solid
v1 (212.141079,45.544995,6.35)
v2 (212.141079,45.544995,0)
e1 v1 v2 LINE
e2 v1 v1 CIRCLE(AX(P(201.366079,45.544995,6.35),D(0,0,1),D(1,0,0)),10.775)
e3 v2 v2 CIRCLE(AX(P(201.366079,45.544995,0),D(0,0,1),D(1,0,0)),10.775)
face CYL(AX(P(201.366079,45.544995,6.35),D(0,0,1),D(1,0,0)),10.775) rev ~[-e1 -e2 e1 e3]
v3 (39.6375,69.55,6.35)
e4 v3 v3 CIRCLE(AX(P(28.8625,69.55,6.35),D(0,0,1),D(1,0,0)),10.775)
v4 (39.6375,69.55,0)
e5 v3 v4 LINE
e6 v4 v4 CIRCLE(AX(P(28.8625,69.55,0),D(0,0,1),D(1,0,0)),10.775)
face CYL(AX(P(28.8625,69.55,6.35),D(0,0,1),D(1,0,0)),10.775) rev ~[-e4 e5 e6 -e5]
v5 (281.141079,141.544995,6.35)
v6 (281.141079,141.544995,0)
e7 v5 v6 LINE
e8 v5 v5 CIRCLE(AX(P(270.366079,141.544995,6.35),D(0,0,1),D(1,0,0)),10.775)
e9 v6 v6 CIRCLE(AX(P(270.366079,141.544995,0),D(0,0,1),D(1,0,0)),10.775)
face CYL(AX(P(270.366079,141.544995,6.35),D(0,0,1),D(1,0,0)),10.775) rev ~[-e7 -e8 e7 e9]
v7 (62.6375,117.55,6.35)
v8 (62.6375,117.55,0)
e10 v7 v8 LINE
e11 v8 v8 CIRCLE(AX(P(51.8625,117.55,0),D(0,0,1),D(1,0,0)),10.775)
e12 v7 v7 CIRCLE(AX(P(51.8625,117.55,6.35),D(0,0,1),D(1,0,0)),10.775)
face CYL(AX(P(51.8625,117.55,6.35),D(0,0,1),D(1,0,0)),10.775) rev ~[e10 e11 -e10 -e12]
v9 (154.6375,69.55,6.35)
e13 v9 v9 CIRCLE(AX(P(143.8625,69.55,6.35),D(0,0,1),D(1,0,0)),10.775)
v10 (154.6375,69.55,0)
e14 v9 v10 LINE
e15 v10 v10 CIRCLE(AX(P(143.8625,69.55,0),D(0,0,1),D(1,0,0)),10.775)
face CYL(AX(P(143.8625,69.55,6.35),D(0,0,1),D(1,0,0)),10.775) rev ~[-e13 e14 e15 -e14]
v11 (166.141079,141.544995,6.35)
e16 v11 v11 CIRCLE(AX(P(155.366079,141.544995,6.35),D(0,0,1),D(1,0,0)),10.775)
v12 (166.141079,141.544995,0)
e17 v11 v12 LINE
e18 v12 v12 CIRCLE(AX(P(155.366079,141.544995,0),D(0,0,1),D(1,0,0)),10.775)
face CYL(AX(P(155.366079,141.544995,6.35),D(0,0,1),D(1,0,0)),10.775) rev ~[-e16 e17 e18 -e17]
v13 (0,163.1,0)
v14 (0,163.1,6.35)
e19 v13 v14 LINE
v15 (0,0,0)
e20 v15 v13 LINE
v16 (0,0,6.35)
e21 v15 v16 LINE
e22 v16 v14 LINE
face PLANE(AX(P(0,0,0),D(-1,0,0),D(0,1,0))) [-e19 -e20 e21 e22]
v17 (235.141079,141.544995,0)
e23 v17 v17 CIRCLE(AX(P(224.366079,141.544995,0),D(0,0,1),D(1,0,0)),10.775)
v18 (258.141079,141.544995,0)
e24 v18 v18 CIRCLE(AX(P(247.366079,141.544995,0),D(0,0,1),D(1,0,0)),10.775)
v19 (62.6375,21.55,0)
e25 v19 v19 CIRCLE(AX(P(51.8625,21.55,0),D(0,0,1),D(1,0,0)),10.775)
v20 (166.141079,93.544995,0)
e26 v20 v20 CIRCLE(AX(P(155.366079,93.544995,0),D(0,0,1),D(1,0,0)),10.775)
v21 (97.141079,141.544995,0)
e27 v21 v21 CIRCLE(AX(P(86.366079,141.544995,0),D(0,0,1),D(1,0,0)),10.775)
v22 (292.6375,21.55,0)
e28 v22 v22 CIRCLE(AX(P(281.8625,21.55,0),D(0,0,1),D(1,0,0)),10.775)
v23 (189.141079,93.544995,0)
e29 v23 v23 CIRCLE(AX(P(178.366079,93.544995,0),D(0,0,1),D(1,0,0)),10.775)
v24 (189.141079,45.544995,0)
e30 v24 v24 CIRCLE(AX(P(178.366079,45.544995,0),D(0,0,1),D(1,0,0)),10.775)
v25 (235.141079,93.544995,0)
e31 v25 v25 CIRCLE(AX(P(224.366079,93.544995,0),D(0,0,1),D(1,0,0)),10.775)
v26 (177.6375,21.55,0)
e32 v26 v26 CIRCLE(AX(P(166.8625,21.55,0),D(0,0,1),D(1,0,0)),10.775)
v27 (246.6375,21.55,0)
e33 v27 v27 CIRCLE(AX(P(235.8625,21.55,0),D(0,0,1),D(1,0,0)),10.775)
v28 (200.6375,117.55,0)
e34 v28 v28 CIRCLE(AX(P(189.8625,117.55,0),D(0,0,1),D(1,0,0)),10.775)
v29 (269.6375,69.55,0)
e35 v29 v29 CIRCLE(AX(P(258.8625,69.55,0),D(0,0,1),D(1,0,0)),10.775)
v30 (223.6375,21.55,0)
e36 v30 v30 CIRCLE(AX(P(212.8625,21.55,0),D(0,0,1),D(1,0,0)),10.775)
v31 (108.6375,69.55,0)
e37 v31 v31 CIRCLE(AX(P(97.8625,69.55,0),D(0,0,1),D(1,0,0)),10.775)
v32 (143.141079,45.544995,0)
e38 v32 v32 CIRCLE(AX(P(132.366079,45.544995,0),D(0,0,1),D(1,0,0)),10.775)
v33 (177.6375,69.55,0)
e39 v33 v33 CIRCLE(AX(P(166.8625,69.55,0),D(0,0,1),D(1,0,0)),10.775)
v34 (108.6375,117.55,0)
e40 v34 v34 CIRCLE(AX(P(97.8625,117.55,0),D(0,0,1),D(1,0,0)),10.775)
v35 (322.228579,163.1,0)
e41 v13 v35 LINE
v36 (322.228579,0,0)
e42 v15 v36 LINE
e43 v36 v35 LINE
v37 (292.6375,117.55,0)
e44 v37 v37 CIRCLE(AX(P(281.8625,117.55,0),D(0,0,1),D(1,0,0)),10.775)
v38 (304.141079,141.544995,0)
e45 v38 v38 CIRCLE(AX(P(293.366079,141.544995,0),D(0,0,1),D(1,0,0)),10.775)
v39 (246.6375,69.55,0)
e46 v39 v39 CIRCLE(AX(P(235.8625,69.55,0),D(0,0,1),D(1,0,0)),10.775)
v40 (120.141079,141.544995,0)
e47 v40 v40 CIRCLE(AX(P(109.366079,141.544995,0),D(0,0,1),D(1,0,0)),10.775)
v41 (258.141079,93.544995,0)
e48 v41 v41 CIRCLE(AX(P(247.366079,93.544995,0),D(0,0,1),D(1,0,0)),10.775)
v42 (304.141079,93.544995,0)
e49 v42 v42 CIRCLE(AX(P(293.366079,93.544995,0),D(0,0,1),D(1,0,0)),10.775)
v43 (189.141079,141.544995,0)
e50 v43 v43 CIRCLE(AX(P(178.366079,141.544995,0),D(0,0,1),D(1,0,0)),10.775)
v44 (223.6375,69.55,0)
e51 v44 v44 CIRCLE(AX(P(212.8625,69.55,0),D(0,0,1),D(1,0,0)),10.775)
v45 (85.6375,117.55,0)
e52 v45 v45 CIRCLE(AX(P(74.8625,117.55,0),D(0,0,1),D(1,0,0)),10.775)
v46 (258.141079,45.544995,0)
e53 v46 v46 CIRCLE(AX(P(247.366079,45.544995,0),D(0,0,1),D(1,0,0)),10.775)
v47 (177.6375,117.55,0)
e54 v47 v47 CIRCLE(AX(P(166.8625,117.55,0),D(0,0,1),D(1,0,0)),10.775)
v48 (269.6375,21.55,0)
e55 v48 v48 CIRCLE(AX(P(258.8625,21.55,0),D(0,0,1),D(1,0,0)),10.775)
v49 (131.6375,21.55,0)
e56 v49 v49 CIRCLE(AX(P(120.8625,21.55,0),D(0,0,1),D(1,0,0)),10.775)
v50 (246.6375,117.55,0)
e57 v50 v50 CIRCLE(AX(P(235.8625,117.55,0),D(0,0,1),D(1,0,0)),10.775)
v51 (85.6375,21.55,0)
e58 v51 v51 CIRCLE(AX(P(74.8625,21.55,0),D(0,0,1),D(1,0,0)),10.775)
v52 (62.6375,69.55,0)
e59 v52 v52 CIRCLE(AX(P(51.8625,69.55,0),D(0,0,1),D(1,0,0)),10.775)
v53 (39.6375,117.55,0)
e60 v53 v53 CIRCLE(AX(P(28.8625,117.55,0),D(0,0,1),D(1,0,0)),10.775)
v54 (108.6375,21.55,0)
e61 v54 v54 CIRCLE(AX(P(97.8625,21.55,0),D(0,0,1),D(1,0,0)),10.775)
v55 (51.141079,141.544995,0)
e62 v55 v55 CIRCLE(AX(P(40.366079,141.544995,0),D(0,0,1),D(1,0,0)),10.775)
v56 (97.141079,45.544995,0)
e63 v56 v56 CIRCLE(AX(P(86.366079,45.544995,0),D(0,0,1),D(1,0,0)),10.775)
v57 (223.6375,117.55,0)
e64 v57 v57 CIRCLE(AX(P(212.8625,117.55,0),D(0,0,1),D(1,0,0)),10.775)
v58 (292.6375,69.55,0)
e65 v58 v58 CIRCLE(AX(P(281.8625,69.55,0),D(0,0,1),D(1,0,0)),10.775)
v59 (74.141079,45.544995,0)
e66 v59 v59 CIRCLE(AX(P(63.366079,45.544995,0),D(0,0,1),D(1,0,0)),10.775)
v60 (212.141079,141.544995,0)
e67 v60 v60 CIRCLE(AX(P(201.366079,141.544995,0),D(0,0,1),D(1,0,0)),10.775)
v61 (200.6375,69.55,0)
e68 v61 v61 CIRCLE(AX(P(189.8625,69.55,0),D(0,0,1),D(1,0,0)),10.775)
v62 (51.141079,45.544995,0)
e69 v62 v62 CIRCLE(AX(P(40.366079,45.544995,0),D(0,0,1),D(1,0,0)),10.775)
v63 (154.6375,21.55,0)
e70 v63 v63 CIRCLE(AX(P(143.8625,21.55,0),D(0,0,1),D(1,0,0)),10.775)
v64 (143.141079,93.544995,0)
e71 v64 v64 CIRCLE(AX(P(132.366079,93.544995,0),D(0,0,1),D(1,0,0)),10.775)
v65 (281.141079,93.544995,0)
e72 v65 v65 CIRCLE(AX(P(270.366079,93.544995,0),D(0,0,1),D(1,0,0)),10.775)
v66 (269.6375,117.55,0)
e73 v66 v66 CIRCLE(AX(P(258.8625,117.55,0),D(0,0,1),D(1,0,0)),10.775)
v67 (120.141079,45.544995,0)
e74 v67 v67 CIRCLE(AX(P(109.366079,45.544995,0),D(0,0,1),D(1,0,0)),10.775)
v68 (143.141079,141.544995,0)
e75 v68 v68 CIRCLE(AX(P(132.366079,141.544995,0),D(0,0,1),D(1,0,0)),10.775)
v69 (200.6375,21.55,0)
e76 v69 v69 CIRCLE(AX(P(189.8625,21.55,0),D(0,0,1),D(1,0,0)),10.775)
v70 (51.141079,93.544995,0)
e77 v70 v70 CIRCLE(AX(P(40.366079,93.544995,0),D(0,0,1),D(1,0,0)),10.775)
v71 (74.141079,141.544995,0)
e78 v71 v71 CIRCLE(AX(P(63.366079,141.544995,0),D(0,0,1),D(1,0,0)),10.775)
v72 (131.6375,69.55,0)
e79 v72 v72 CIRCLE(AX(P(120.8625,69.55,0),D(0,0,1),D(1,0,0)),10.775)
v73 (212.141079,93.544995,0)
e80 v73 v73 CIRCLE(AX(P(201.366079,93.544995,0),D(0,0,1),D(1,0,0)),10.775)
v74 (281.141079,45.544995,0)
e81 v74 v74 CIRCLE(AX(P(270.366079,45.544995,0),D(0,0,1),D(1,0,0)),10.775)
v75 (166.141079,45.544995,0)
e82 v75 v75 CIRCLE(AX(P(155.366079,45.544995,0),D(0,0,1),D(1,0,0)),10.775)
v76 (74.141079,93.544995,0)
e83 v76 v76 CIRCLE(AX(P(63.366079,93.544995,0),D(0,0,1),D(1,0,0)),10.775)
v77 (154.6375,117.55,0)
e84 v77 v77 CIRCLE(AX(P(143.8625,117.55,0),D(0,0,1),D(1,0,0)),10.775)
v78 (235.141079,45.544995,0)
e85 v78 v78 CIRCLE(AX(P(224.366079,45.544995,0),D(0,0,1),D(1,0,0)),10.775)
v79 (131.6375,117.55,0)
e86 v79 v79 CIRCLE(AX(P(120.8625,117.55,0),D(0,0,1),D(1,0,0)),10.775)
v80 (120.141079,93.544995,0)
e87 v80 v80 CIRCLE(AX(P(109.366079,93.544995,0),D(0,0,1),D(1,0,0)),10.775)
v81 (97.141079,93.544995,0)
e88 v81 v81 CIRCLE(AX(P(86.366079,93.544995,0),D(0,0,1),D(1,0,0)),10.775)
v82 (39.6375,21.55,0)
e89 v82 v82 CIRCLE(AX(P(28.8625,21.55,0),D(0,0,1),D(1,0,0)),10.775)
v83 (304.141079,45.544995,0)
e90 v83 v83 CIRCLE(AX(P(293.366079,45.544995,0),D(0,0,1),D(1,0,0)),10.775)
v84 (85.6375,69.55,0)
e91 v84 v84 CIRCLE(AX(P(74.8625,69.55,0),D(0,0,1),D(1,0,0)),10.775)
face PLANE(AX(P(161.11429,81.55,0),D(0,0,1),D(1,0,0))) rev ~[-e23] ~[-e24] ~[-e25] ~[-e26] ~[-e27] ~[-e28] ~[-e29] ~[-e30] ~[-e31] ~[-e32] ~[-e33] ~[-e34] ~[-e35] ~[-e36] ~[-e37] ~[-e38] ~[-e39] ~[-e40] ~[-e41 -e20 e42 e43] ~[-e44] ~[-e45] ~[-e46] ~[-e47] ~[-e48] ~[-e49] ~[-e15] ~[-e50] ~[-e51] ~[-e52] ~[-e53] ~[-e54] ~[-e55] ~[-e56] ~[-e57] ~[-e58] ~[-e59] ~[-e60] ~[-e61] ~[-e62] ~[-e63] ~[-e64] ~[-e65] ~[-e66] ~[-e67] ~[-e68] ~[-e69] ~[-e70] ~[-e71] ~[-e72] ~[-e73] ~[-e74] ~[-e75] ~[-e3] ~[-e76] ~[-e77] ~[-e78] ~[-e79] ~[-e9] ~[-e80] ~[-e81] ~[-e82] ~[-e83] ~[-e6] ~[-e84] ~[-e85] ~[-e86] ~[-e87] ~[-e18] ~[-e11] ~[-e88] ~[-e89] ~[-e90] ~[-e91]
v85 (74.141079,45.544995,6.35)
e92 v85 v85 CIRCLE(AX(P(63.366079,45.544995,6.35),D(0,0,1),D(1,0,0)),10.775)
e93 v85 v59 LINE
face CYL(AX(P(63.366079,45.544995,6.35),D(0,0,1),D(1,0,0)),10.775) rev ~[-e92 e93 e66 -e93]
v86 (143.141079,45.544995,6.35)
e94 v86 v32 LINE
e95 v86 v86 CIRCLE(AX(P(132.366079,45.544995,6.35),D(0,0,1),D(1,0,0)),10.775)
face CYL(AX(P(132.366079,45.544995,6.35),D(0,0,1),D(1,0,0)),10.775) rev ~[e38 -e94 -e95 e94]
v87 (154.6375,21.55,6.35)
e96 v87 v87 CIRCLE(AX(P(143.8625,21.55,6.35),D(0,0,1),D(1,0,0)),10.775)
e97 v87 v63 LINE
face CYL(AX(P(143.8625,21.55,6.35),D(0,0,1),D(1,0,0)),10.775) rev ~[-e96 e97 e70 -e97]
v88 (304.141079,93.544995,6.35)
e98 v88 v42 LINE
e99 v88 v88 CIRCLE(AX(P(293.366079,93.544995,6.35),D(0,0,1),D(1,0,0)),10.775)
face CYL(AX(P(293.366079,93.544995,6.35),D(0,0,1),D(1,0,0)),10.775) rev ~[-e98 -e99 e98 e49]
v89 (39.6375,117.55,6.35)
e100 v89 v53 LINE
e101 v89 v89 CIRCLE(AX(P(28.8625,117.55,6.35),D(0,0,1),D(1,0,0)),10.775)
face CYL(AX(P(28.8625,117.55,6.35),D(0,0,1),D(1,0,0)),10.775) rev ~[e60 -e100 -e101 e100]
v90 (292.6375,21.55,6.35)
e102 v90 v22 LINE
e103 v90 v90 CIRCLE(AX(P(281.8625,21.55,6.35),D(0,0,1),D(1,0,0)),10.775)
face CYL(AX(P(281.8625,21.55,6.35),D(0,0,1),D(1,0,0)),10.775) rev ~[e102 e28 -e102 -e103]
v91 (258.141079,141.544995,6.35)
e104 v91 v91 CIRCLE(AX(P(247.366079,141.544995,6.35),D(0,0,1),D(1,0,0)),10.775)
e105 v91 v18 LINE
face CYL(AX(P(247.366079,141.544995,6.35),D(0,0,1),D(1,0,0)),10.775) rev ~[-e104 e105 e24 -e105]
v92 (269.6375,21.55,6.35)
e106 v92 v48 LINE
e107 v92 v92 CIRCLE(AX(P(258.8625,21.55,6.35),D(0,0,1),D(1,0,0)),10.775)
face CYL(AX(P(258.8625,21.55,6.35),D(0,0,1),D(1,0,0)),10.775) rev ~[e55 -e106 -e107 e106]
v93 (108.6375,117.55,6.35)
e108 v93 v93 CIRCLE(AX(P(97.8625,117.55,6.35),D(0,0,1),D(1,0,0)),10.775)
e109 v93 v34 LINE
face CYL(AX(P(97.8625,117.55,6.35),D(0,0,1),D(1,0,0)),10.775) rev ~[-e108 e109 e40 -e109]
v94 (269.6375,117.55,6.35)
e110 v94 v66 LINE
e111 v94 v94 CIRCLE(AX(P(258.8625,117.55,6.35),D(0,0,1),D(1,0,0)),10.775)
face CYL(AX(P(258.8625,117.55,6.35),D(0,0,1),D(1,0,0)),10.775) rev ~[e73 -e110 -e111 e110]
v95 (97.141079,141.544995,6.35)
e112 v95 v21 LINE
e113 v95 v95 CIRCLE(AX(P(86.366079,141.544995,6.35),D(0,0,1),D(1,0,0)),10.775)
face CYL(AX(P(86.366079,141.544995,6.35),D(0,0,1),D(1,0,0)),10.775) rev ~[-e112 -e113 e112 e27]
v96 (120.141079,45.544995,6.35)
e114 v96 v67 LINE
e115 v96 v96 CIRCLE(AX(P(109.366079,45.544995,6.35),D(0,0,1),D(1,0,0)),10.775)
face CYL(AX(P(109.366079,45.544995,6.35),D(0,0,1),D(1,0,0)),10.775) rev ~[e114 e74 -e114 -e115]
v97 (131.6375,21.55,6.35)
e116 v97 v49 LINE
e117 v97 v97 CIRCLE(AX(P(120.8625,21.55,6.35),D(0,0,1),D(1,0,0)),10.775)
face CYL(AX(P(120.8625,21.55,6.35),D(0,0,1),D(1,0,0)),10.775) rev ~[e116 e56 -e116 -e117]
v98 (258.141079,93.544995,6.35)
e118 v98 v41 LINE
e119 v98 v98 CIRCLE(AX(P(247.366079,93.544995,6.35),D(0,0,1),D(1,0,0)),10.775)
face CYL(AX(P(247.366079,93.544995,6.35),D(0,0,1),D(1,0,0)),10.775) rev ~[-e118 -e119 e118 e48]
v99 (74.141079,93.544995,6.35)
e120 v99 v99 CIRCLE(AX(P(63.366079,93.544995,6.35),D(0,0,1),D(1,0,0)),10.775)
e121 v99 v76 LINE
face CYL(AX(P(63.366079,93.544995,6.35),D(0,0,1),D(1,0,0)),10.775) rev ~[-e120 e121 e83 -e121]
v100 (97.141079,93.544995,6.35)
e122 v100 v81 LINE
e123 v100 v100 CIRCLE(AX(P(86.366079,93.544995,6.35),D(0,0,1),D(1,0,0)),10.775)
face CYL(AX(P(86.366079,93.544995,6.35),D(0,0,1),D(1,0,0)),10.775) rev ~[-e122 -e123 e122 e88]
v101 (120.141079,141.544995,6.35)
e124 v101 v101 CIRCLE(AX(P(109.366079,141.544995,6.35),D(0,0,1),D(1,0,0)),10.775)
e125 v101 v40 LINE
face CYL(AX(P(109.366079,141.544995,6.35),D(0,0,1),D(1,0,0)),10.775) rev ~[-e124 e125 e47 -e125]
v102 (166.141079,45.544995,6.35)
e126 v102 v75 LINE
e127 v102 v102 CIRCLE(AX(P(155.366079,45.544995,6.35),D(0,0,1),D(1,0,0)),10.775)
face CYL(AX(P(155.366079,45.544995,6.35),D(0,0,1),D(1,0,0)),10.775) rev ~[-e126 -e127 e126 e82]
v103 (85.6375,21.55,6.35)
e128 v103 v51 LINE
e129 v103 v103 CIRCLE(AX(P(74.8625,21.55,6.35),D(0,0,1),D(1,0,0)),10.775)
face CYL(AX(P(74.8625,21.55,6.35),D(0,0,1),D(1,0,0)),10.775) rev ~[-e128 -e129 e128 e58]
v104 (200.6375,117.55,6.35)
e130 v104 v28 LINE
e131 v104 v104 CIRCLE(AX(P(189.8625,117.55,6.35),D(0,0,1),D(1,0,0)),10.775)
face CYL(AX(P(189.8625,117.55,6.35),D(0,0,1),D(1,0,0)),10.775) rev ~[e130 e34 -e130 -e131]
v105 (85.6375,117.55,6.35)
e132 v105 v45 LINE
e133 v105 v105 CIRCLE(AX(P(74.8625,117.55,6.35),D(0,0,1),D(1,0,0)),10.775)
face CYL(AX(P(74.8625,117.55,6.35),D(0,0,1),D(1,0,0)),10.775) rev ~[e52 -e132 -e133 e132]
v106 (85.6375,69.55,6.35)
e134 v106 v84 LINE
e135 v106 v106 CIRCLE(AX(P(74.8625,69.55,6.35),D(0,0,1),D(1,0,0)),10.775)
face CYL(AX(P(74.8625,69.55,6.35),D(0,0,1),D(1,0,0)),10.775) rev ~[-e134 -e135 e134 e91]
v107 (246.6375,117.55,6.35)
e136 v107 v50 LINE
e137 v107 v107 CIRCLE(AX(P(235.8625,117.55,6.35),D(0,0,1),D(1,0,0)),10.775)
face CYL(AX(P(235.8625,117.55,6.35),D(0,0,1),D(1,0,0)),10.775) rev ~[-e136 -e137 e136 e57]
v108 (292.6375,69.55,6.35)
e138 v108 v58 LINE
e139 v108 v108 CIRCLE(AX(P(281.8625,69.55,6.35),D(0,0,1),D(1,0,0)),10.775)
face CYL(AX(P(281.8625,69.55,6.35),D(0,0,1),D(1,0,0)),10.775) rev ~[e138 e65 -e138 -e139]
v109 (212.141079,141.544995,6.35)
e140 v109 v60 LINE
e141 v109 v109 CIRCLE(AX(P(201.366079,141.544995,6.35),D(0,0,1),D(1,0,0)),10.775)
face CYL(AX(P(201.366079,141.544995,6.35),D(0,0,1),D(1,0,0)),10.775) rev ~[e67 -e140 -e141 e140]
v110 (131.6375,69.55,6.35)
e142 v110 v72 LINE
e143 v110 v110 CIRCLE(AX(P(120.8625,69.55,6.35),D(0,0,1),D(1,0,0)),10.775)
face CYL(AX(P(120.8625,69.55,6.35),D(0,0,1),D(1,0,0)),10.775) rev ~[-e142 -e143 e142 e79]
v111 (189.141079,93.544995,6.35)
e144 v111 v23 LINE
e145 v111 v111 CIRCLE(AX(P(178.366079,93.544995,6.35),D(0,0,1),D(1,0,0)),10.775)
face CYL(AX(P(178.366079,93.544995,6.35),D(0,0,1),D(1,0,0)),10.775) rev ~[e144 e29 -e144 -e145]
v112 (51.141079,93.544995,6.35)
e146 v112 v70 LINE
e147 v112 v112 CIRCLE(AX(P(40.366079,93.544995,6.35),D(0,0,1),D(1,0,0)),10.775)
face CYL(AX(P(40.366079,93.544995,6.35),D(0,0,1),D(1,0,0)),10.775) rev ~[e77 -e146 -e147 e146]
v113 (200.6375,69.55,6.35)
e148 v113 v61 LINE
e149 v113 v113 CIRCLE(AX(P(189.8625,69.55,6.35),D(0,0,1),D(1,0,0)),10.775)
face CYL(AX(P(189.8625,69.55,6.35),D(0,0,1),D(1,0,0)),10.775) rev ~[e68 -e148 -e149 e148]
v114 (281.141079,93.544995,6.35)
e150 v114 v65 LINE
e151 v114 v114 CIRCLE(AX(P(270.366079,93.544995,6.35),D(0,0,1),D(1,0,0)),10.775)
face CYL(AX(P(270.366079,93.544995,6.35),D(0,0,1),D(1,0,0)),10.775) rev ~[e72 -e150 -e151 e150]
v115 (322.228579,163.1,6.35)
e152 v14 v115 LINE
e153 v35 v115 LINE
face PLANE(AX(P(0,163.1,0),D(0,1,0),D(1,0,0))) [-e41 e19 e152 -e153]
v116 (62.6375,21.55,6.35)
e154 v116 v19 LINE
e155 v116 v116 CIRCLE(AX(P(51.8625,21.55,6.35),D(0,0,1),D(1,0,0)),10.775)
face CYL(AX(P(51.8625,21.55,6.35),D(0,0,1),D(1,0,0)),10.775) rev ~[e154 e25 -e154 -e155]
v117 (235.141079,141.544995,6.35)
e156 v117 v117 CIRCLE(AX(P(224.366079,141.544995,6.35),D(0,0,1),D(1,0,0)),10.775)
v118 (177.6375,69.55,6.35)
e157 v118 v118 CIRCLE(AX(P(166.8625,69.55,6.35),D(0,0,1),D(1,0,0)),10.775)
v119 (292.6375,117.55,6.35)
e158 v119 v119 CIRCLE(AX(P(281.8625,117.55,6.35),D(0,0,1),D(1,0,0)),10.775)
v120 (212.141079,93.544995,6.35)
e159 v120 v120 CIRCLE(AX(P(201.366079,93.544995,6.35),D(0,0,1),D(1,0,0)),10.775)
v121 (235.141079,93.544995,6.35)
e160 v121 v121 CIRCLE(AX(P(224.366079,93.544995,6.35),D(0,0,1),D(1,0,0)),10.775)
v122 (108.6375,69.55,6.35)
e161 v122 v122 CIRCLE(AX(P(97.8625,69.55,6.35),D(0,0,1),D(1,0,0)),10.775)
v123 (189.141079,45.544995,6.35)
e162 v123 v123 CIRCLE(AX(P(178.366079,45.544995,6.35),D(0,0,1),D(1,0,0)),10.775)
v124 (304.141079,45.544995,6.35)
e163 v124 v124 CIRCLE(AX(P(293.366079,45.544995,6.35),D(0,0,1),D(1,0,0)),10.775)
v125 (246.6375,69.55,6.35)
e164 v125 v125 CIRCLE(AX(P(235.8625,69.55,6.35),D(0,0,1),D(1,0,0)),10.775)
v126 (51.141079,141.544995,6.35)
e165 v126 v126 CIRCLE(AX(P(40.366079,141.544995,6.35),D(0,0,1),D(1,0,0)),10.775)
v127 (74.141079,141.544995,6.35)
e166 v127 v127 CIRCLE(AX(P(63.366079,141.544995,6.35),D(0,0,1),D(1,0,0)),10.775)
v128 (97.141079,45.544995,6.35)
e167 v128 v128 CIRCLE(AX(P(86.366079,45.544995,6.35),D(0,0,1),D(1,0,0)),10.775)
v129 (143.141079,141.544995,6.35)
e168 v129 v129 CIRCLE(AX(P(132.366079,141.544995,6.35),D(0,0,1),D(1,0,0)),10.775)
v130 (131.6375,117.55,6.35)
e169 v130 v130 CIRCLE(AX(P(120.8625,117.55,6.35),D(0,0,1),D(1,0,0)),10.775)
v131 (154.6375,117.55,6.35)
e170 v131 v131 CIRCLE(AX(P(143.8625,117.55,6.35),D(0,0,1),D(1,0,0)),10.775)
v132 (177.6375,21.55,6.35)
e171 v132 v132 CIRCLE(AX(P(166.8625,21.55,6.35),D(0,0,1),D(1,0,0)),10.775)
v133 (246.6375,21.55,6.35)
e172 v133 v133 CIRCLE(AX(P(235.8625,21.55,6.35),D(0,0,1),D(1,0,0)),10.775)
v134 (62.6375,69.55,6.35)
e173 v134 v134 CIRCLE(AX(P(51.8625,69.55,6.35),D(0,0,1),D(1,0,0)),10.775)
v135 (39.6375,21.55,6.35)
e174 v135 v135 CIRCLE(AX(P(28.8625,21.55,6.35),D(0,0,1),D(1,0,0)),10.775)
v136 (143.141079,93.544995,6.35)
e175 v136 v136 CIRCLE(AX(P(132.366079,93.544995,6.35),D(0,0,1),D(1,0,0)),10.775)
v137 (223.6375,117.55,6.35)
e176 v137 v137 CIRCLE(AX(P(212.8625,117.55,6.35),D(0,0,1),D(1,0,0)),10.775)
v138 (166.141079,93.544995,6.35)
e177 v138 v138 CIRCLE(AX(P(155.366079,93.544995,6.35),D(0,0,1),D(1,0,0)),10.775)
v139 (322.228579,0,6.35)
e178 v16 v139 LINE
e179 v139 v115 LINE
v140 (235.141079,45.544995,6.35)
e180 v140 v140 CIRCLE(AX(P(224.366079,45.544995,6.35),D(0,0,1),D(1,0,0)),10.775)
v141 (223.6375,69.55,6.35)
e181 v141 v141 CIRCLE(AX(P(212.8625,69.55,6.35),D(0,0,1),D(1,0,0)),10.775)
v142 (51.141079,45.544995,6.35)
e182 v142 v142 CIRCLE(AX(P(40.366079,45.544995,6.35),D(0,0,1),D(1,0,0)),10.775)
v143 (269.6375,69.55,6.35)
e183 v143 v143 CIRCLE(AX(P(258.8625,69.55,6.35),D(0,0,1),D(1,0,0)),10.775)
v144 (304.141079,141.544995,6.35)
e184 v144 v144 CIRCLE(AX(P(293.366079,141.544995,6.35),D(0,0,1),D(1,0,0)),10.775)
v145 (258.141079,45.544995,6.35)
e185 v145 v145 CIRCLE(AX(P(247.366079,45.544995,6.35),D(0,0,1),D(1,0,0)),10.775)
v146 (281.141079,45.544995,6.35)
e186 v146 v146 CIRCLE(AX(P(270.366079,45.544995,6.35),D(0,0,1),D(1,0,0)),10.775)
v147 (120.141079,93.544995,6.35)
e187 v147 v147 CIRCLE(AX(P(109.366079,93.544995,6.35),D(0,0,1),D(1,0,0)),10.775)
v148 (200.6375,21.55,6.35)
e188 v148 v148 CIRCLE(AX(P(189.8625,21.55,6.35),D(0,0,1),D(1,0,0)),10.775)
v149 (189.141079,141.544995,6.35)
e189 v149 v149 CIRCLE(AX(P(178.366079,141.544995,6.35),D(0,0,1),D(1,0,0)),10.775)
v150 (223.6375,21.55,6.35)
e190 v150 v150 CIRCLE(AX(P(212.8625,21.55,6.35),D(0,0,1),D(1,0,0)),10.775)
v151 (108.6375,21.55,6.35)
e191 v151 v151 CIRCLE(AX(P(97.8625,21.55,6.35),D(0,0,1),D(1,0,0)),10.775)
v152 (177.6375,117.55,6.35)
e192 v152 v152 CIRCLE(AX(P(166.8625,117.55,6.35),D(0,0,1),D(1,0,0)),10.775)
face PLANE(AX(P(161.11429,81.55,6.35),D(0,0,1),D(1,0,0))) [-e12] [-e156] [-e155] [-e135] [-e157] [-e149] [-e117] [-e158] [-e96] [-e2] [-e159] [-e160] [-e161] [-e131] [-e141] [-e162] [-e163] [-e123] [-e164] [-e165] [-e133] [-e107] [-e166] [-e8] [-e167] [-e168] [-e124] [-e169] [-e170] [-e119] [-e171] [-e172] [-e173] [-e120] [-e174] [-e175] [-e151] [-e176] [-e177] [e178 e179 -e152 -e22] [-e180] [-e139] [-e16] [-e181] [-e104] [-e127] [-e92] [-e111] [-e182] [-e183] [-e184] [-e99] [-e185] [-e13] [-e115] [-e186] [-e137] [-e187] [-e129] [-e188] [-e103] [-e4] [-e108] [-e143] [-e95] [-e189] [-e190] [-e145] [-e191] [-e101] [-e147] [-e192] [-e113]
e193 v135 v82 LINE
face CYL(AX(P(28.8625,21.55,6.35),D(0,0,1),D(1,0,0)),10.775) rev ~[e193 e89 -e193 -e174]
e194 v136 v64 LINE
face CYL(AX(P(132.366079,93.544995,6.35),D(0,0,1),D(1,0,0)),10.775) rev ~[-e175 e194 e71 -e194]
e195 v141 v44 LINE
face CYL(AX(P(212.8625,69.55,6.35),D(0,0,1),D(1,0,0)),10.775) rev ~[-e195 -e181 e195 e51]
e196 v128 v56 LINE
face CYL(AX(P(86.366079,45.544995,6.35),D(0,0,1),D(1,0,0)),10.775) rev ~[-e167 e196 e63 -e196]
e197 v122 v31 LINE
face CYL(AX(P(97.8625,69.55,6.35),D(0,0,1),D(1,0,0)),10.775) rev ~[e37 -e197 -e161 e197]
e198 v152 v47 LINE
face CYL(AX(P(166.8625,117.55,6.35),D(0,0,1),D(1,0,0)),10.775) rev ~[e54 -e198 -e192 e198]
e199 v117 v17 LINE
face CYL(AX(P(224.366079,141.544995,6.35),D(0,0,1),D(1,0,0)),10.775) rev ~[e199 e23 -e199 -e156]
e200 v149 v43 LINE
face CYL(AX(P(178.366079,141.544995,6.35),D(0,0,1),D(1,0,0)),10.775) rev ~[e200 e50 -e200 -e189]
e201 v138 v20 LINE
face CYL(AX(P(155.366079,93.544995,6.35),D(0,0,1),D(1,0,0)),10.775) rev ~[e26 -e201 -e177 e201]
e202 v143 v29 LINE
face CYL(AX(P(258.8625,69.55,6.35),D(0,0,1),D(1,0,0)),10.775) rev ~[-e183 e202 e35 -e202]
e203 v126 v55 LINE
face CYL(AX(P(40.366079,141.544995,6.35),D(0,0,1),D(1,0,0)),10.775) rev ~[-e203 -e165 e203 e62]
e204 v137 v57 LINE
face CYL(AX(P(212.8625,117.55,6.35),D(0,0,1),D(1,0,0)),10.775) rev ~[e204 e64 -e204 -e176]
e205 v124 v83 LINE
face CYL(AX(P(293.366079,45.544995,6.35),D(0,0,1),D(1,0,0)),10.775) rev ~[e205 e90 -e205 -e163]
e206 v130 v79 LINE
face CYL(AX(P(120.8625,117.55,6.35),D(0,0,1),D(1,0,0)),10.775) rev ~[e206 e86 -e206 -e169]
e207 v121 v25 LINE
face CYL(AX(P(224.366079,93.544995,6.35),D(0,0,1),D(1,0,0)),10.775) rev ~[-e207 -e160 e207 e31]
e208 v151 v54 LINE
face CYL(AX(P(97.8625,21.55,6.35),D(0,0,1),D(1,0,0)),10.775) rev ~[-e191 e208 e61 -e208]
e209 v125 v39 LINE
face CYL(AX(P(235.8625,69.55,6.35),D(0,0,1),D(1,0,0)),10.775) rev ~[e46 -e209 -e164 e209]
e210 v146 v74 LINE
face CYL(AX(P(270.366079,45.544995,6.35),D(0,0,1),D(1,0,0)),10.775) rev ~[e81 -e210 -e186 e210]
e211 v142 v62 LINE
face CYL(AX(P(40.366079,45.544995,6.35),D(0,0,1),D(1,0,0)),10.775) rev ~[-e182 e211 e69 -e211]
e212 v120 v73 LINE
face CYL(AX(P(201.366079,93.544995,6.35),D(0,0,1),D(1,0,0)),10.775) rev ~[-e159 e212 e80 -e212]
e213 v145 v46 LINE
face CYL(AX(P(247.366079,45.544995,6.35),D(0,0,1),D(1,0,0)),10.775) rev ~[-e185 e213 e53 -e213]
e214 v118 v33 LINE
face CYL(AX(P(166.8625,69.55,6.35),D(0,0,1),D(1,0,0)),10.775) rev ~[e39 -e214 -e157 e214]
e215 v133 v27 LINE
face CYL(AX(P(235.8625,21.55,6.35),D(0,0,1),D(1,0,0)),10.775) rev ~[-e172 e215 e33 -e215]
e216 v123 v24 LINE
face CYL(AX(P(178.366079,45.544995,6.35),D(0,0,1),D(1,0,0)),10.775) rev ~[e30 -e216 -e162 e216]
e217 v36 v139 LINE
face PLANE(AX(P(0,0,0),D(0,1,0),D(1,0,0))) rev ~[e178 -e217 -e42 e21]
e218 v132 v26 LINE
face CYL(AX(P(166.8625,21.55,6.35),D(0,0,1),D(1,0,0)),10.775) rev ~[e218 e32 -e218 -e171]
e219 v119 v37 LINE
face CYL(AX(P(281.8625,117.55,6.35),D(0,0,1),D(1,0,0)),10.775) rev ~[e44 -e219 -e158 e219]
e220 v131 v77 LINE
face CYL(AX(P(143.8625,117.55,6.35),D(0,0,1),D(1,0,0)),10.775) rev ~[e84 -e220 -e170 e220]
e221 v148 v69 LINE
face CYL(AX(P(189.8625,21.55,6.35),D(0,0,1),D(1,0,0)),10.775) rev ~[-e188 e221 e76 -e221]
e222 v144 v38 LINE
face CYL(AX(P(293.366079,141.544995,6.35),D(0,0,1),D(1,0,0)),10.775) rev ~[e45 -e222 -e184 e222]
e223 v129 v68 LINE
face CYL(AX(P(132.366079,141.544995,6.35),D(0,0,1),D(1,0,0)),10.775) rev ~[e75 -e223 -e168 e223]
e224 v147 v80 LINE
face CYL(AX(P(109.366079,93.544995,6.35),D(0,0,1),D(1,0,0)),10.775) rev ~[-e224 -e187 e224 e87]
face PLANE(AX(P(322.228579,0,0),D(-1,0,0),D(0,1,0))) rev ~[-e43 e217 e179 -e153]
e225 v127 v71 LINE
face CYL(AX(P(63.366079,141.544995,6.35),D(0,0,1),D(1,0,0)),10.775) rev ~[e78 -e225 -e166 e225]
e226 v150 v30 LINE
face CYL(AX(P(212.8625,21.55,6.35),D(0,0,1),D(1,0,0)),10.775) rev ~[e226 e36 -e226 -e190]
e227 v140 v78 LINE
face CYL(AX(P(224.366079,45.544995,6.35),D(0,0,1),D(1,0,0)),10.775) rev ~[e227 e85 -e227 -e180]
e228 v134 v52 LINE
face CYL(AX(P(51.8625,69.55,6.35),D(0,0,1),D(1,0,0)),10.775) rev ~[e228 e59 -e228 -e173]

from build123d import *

# Parameters (mm, degrees)
SKETCH1_W           = 322.22857931
SKETCH1_H           = 163.1
BOSS_EXTRUDE1_DEPTH = 6.35
SKETCH2_R           = 10.775
CUT_EXTRUDE1_DEPTH  = 362.210727726


with BuildPart() as part:
    # Sketch1 → Boss-Extrude1 (new body)
    with BuildSketch(Plane.XY):
        with Locations((161.114289655, 81.55)):
            Rectangle(SKETCH1_W, SKETCH1_H)
    extrude(amount=BOSS_EXTRUDE1_DEPTH)

    # Sketch2 → Cut-Extrude1 (cut, through all)
    with BuildSketch(Plane.XY.offset(6.35)):
        with Locations((28.8625, 21.55)):
            Circle(SKETCH2_R)
        with Locations((40.366079306, 45.544994544)):
            Circle(SKETCH2_R)
        with Locations((51.8625, 21.55)):
            Circle(SKETCH2_R)
        with Locations((74.8625, 21.55)):
            Circle(SKETCH2_R)
        with Locations((97.8625, 21.55)):
            Circle(SKETCH2_R)
        with Locations((120.8625, 21.55)):
            Circle(SKETCH2_R)
        with Locations((143.8625, 21.55)):
            Circle(SKETCH2_R)
        with Locations((166.8625, 21.55)):
            Circle(SKETCH2_R)
        with Locations((189.8625, 21.55)):
            Circle(SKETCH2_R)
        with Locations((212.8625, 21.55)):
            Circle(SKETCH2_R)
        with Locations((235.8625, 21.55)):
            Circle(SKETCH2_R)
        with Locations((258.8625, 21.55)):
            Circle(SKETCH2_R)
        with Locations((281.8625, 21.55)):
            Circle(SKETCH2_R)
        with Locations((293.366079306, 45.544994544)):
            Circle(SKETCH2_R)
        with Locations((293.366079306, 93.544994544)):
            Circle(SKETCH2_R)
        with Locations((293.366079306, 141.544994544)):
            Circle(SKETCH2_R)
        with Locations((28.8625, 117.55)):
            Circle(SKETCH2_R)
        with Locations((28.8625, 69.55)):
            Circle(SKETCH2_R)
        with Locations((63.366079306, 45.544994544)):
            Circle(SKETCH2_R)
        with Locations((86.366079306, 45.544994544)):
            Circle(SKETCH2_R)
        with Locations((109.366079306, 45.544994544)):
            Circle(SKETCH2_R)
        with Locations((132.366079306, 45.544994544)):
            Circle(SKETCH2_R)
        with Locations((155.366079306, 45.544994544)):
            Circle(SKETCH2_R)
        with Locations((178.366079306, 45.544994544)):
            Circle(SKETCH2_R)
        with Locations((201.366079306, 45.544994544)):
            Circle(SKETCH2_R)
        with Locations((224.366079306, 45.544994544)):
            Circle(SKETCH2_R)
        with Locations((247.366079306, 45.544994544)):
            Circle(SKETCH2_R)
        with Locations((270.366079306, 45.544994544)):
            Circle(SKETCH2_R)
        with Locations((51.8625, 69.55)):
            Circle(SKETCH2_R)
        with Locations((74.8625, 69.55)):
            Circle(SKETCH2_R)
        with Locations((97.8625, 69.55)):
            Circle(SKETCH2_R)
        with Locations((120.8625, 69.55)):
            Circle(SKETCH2_R)
        with Locations((143.8625, 69.55)):
            Circle(SKETCH2_R)
        with Locations((166.8625, 69.55)):
            Circle(SKETCH2_R)
        with Locations((189.8625, 69.55)):
            Circle(SKETCH2_R)
        with Locations((212.8625, 69.55)):
            Circle(SKETCH2_R)
        with Locations((235.8625, 69.55)):
            Circle(SKETCH2_R)
        with Locations((258.8625, 69.55)):
            Circle(SKETCH2_R)
        with Locations((281.8625, 69.55)):
            Circle(SKETCH2_R)
        with Locations((51.8625, 117.55)):
            Circle(SKETCH2_R)
        with Locations((74.8625, 117.55)):
            Circle(SKETCH2_R)
        with Locations((97.8625, 117.55)):
            Circle(SKETCH2_R)
        with Locations((120.8625, 117.55)):
            Circle(SKETCH2_R)
        with Locations((143.8625, 117.55)):
            Circle(SKETCH2_R)
        with Locations((166.8625, 117.55)):
            Circle(SKETCH2_R)
        with Locations((189.8625, 117.55)):
            Circle(SKETCH2_R)
        with Locations((212.8625, 117.55)):
            Circle(SKETCH2_R)
        with Locations((235.8625, 117.55)):
            Circle(SKETCH2_R)
        with Locations((258.8625, 117.55)):
            Circle(SKETCH2_R)
        with Locations((281.8625, 117.55)):
            Circle(SKETCH2_R)
        with Locations((40.366079306, 93.544994544)):
            Circle(SKETCH2_R)
        with Locations((63.366079306, 93.544994544)):
            Circle(SKETCH2_R)
        with Locations((86.366079306, 93.544994544)):
            Circle(SKETCH2_R)
        with Locations((109.366079306, 93.544994544)):
            Circle(SKETCH2_R)
        with Locations((132.366079306, 93.544994544)):
            Circle(SKETCH2_R)
        with Locations((155.366079306, 93.544994544)):
            Circle(SKETCH2_R)
        with Locations((178.366079306, 93.544994544)):
            Circle(SKETCH2_R)
        with Locations((201.366079306, 93.544994544)):
            Circle(SKETCH2_R)
        with Locations((224.366079306, 93.544994544)):
            Circle(SKETCH2_R)
        with Locations((247.366079306, 93.544994544)):
            Circle(SKETCH2_R)
        with Locations((270.366079306, 93.544994544)):
            Circle(SKETCH2_R)
        with Locations((40.366079306, 141.544994544)):
            Circle(SKETCH2_R)
        with Locations((63.366079306, 141.544994544)):
            Circle(SKETCH2_R)
        with Locations((86.366079306, 141.544994544)):
            Circle(SKETCH2_R)
        with Locations((109.366079306, 141.544994544)):
            Circle(SKETCH2_R)
        with Locations((132.366079306, 141.544994544)):
            Circle(SKETCH2_R)
        with Locations((155.366079306, 141.544994544)):
            Circle(SKETCH2_R)
        with Locations((178.366079306, 141.544994544)):
            Circle(SKETCH2_R)
        with Locations((201.366079306, 141.544994544)):
            Circle(SKETCH2_R)
        with Locations((224.366079306, 141.544994544)):
            Circle(SKETCH2_R)
        with Locations((247.366079306, 141.544994544)):
            Circle(SKETCH2_R)
        with Locations((270.366079306, 141.544994544)):
            Circle(SKETCH2_R)
    extrude(amount=-CUT_EXTRUDE1_DEPTH, mode=Mode.SUBTRACT)


solid = part.part
